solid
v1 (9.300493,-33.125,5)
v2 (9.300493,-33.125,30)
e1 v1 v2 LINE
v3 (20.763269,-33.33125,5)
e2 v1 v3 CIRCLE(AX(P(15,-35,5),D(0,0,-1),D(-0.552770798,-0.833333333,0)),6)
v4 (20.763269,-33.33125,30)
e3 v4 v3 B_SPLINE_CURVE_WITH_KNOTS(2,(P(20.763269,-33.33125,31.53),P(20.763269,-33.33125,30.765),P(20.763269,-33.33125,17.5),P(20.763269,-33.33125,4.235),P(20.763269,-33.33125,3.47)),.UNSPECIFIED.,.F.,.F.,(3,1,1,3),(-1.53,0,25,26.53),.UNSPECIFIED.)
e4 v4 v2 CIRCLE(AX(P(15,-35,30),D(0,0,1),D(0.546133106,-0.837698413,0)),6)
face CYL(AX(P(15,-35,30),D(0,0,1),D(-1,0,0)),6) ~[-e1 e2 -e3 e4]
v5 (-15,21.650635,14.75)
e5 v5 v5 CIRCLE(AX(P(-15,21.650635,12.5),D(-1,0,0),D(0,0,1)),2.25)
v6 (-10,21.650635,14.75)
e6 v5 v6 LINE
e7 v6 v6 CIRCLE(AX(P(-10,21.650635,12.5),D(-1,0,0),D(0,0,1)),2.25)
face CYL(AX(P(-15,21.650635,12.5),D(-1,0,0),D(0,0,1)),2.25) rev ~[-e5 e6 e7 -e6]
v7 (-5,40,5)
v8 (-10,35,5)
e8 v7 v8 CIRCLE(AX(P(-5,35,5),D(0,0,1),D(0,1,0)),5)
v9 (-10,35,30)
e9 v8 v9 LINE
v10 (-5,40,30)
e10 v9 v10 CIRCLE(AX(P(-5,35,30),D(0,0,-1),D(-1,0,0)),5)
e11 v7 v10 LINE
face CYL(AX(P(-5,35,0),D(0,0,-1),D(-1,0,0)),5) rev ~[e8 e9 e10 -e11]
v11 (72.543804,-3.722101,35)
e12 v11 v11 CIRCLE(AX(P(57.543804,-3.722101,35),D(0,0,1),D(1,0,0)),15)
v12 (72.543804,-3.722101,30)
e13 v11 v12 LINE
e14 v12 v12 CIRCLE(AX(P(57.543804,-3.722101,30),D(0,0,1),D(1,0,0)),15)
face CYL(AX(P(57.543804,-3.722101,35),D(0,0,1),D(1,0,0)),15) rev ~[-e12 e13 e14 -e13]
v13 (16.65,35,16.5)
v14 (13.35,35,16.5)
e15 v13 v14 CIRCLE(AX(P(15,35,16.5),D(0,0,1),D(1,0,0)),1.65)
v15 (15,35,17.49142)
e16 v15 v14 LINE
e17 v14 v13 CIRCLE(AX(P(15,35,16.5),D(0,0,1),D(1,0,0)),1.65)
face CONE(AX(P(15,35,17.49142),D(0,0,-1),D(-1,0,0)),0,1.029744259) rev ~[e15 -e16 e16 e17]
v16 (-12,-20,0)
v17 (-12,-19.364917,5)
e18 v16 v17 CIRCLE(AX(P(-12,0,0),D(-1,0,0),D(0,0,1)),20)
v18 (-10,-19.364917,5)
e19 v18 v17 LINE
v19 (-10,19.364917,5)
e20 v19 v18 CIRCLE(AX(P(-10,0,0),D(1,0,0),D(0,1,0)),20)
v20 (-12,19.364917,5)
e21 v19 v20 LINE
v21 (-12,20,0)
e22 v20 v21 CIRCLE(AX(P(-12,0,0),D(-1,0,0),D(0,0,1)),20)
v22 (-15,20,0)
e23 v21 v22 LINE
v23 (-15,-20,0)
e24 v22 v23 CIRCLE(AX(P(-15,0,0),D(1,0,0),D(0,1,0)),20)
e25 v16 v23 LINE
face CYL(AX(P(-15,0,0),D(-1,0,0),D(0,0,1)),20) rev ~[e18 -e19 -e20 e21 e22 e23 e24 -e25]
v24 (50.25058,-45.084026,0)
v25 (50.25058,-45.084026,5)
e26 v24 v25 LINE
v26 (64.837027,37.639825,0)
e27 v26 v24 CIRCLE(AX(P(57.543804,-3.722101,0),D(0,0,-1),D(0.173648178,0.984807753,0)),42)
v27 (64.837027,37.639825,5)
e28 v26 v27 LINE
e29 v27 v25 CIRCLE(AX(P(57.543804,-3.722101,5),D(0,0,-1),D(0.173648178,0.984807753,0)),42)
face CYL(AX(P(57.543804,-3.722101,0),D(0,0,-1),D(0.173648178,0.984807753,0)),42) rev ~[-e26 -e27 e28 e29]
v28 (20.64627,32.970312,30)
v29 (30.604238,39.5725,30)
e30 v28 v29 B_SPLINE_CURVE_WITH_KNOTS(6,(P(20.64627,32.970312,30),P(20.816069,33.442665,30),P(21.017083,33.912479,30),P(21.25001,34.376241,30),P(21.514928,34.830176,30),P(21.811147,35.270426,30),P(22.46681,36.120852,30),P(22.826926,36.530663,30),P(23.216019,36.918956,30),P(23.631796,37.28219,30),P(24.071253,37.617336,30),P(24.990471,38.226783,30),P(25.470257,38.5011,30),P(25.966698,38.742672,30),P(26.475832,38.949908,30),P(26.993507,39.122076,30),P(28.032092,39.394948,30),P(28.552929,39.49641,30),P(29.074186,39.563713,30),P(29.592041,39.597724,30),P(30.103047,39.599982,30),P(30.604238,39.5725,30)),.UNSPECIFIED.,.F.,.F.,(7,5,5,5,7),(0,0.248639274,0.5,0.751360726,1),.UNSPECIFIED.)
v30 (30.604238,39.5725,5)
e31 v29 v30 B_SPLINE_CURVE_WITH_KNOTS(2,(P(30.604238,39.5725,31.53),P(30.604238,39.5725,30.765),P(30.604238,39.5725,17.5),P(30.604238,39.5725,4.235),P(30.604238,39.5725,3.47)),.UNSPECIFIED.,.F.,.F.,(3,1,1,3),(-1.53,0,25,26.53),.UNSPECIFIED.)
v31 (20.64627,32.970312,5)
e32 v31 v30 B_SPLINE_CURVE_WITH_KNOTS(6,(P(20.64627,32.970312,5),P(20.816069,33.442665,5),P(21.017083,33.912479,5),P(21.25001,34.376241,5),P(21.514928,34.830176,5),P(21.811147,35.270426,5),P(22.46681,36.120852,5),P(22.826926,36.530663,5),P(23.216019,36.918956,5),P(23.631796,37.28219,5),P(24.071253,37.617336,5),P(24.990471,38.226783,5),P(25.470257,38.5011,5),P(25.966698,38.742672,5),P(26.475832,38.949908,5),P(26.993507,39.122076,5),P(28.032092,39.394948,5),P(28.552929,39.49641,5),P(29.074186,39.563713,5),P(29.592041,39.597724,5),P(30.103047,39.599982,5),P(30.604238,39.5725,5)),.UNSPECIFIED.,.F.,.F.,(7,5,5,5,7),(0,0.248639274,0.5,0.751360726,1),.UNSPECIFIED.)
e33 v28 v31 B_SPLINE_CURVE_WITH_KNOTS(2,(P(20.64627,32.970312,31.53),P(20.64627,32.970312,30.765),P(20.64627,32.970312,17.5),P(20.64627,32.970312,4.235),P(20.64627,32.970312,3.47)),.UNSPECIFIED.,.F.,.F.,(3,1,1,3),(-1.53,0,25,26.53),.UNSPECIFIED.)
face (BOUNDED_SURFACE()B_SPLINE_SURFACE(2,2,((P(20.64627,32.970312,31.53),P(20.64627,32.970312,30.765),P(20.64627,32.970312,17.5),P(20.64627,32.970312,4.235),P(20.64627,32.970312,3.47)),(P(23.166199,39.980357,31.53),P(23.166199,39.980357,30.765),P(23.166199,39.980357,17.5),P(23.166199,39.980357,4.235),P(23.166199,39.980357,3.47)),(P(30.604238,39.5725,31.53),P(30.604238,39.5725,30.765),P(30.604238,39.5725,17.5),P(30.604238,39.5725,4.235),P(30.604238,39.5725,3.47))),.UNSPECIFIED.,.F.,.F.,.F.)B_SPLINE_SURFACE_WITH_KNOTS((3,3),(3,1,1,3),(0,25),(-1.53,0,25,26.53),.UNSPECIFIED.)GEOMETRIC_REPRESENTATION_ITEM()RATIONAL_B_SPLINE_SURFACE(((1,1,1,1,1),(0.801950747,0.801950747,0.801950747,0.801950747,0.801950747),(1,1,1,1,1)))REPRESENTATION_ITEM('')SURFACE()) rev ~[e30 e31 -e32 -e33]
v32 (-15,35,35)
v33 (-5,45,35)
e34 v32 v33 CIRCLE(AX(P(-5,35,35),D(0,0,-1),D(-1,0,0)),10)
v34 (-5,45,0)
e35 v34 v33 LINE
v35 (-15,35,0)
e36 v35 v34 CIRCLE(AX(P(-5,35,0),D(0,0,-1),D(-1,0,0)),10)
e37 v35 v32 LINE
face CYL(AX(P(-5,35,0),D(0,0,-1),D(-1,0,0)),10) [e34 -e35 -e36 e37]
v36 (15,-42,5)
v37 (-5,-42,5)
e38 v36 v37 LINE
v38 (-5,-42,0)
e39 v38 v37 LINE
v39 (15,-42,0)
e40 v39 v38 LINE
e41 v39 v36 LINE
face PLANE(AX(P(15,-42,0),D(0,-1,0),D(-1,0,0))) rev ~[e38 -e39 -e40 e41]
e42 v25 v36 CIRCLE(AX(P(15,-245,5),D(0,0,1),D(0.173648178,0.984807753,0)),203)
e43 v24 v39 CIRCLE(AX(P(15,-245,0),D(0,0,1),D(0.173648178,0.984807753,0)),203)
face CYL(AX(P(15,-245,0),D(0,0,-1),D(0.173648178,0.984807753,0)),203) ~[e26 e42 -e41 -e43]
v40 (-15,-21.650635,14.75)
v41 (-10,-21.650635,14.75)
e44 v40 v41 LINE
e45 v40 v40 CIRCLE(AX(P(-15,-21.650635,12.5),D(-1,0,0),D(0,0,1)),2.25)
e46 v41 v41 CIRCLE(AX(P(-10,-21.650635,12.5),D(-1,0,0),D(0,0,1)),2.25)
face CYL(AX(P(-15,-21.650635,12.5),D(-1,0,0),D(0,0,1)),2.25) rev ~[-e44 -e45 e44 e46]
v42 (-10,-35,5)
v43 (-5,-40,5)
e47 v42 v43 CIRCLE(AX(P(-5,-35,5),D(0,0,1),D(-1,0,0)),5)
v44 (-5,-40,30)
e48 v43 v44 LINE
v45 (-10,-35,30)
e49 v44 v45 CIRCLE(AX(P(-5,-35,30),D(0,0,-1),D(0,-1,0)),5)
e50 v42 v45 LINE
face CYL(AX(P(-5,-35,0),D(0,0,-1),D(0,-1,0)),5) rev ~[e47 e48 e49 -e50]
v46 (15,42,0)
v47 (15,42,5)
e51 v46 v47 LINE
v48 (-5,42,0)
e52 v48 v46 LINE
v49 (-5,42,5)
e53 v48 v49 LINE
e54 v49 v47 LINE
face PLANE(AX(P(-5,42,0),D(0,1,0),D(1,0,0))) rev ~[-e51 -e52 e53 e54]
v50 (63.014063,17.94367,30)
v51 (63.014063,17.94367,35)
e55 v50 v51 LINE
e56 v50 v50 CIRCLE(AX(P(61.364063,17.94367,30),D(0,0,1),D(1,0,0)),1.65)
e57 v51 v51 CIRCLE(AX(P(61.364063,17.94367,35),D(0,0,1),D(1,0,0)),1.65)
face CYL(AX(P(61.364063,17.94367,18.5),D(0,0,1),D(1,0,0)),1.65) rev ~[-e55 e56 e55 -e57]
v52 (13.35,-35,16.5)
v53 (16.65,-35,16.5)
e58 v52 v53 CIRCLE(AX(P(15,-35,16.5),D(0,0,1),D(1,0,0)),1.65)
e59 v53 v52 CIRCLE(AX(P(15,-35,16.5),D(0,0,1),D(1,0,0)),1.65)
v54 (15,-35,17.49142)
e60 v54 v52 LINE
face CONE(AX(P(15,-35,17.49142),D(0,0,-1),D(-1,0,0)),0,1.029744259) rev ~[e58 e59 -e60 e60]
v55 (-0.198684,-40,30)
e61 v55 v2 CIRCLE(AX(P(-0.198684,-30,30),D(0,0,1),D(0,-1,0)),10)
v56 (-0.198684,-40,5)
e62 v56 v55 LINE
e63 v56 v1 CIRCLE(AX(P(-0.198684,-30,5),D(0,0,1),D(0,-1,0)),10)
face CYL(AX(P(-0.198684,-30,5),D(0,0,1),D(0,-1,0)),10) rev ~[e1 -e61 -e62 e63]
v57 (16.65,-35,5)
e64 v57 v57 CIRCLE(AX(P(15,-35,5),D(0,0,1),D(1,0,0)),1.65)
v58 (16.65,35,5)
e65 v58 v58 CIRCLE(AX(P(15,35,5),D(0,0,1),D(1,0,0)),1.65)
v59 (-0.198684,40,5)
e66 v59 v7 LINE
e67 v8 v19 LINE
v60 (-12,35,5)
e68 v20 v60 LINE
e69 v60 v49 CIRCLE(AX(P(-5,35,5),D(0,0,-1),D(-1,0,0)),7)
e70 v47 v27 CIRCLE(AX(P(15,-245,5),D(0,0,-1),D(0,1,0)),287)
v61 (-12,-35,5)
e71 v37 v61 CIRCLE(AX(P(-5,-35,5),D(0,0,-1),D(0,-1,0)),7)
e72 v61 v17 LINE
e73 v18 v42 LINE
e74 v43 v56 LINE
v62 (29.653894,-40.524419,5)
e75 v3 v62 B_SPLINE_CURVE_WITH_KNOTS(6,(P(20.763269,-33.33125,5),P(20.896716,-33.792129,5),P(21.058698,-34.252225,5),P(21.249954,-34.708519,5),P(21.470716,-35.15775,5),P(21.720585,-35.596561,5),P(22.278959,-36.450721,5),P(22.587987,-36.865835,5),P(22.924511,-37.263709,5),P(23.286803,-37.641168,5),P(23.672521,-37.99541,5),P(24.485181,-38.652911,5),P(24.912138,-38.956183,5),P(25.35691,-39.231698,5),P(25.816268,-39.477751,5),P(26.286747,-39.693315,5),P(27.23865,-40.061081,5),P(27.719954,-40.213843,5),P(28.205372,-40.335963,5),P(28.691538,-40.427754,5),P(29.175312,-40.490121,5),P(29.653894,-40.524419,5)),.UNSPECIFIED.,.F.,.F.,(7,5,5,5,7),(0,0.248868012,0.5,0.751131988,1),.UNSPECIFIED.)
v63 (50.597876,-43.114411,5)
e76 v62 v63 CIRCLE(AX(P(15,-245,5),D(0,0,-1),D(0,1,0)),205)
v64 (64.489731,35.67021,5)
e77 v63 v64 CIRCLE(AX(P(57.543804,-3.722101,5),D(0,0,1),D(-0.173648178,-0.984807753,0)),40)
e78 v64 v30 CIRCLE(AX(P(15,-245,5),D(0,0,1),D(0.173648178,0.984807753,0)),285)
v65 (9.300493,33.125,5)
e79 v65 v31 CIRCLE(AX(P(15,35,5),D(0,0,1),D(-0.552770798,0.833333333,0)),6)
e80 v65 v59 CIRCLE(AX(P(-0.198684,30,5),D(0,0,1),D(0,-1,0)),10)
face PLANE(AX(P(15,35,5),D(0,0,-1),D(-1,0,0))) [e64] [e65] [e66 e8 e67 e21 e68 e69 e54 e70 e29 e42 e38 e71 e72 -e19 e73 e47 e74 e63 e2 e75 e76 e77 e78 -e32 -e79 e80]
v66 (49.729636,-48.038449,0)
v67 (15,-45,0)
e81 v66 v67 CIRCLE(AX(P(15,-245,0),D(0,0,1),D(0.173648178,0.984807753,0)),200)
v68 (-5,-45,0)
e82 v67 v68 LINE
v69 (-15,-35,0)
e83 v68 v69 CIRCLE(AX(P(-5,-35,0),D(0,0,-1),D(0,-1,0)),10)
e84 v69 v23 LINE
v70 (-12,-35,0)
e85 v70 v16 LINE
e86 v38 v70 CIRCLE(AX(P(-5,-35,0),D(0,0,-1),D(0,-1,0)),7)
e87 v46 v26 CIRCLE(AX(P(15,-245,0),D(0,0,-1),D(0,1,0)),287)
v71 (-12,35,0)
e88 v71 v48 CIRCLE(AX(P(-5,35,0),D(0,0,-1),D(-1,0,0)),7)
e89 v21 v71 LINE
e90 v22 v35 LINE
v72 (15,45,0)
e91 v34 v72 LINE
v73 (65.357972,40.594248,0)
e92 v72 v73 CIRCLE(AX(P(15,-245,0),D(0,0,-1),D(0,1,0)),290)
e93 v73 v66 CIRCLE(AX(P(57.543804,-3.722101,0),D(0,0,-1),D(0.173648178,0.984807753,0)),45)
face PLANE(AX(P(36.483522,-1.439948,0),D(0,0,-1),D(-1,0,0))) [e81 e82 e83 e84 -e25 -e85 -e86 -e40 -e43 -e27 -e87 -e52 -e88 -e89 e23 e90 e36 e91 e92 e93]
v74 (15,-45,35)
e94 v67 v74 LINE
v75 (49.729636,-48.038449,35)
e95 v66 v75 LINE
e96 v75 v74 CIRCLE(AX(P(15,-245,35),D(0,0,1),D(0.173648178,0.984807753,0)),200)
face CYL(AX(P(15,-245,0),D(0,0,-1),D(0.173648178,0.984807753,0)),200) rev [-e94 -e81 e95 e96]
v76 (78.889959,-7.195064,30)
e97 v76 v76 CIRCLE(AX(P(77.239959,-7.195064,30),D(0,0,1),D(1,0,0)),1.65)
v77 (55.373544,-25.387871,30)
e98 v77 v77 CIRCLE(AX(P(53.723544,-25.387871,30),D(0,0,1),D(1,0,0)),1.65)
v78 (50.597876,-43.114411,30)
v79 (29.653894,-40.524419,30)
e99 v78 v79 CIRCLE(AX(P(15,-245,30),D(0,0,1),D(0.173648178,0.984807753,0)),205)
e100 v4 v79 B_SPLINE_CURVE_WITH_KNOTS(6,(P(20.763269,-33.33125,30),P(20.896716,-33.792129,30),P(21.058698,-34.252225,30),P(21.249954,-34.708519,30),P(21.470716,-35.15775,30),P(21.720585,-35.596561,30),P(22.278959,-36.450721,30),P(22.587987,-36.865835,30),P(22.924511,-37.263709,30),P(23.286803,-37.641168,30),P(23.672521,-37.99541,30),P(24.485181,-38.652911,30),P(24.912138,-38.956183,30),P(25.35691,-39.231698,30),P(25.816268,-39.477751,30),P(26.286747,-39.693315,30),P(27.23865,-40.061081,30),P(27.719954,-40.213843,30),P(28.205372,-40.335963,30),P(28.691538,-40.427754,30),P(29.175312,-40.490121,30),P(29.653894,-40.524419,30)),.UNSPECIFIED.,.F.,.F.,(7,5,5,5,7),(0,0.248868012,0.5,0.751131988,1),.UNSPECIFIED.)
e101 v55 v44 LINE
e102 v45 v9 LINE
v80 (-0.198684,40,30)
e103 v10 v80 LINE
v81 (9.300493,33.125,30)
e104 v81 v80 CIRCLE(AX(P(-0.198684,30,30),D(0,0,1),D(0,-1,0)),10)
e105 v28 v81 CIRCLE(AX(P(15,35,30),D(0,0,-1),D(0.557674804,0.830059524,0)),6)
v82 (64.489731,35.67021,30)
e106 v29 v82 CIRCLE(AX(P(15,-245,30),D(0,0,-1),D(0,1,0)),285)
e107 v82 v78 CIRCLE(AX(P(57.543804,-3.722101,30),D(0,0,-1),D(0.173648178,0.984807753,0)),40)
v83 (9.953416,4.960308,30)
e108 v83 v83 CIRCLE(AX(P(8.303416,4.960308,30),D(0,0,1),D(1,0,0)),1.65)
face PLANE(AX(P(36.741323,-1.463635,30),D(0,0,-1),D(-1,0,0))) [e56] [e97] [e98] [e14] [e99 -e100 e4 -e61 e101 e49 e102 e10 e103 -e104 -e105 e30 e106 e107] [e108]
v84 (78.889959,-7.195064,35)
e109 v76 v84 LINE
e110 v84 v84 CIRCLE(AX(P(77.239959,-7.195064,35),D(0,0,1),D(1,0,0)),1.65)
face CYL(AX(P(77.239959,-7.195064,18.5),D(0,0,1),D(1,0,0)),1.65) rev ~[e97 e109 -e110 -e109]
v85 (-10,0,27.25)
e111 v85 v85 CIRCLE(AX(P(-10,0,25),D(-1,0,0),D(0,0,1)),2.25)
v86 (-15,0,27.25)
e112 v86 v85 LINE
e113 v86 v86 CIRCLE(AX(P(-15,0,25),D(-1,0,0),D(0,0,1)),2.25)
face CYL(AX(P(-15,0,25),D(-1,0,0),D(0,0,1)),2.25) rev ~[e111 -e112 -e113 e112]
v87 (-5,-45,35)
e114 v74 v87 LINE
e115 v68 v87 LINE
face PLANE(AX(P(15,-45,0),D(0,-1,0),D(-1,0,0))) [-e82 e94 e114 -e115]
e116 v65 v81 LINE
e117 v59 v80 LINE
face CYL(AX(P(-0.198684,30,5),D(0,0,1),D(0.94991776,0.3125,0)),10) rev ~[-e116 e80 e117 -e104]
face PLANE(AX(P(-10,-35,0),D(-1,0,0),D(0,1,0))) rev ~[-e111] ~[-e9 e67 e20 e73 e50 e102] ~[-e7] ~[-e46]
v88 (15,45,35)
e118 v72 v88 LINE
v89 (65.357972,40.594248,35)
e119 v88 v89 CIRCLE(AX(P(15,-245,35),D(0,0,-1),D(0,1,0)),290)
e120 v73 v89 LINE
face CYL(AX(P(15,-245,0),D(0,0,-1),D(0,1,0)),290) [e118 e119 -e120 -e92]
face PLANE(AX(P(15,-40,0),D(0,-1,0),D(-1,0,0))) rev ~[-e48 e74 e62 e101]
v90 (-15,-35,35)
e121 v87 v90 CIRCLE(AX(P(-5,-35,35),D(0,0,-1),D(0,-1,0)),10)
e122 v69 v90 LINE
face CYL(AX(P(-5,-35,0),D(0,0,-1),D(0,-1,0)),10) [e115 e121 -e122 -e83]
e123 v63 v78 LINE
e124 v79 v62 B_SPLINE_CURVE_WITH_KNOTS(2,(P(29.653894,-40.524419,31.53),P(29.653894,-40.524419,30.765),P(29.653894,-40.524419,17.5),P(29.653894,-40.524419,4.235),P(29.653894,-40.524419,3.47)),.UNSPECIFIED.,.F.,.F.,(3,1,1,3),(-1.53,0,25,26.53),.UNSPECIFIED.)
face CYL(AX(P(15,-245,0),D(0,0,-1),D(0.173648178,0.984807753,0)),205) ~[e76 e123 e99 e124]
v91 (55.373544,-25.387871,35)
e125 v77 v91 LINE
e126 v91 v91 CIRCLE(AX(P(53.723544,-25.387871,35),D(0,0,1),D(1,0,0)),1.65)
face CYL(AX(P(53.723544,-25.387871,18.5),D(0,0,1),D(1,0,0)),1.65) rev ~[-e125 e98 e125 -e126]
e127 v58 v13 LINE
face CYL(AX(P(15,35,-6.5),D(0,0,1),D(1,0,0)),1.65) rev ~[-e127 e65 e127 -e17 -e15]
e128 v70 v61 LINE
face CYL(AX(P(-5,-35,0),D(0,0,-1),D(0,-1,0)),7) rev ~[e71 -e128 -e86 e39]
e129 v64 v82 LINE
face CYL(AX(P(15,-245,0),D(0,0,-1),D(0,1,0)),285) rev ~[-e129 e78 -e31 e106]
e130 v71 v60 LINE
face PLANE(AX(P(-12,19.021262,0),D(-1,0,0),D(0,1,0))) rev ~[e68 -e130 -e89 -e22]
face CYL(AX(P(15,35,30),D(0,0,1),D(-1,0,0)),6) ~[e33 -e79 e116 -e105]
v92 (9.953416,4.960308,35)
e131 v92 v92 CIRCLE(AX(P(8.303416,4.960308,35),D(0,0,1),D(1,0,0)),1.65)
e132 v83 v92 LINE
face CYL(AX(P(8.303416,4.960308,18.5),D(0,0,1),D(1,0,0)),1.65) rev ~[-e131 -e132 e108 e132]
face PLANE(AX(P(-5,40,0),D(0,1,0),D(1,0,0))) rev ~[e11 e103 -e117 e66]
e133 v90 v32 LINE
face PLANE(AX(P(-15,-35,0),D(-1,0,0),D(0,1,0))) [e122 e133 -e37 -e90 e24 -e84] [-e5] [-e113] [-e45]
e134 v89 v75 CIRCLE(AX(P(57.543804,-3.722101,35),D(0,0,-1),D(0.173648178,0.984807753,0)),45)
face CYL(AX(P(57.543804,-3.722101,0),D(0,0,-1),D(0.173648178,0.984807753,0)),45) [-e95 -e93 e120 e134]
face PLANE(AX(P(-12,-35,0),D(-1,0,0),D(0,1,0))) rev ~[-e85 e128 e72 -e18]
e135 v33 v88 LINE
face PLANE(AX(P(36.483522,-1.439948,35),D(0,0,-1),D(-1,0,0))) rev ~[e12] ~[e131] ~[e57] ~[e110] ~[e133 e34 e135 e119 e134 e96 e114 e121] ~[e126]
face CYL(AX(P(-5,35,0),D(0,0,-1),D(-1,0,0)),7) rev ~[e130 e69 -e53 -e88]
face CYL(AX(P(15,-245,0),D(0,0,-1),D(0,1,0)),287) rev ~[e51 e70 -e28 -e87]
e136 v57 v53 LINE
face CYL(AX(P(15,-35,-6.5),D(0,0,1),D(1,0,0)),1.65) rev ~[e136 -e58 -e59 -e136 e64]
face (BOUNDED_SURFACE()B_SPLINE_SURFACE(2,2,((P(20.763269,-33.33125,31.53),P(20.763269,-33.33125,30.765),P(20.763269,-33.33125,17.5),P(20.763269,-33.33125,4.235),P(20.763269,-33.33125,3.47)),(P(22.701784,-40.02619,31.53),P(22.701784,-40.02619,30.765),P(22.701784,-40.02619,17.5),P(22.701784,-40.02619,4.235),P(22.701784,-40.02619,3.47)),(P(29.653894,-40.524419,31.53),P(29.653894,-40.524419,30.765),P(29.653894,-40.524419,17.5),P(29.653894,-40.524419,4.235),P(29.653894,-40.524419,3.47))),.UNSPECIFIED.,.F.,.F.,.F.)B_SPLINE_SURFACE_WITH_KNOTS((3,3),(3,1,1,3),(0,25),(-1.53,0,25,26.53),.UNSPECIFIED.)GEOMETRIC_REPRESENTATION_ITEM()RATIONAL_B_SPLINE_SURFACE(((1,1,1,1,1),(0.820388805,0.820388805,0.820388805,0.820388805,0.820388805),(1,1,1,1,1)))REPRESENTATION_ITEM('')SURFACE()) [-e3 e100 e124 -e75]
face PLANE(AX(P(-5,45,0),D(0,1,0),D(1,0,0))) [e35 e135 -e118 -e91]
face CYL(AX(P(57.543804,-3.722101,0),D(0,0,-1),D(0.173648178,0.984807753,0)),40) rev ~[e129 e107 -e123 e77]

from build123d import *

# Parameters (mm, degrees)
EXTRUDE_1_DEPTH        = 35
CUT_EXTRUDE_1_DEPTH    = 30
SKETCH_3_R             = 20
SKETCH_3_R_2           = 2.25
CUT_EXTRUDE_2_DEPTH    = 5
CUT_EXTRUDE_3_REACH    = 37
SKETCH_4_R             = 15
CUT_EXTRUDE_5_DEPTH    = 5
SKETCH_8_R             = 6
EXTRUDE_2_DEPTH        = 25
FILLET_1_R             = 10
HOLE_WIZARD_M4_2_D     = 3.3
HOLE_WIZARD_M4_2_DEPTH = 11.5
HOLE_WIZARD_M4_2_TIP   = 0.991420021
HOLE_WIZARD_M4_3_D     = 3.3
HOLE_WIZARD_M4_3_DEPTH = 11.5
HOLE_WIZARD_M4_3_TIP   = 0.991420021


with BuildPart() as part:
    # 스케치1 → 보스-돌출1 (new body)
    with BuildSketch(Plane.XY):
        with BuildLine():
            Line((-5, 45), (15, 45))
            ThreePointArc((15, 45), (40.275165397, 43.896462447), (65.357971523, 40.594248374))
            ThreePointArc((65.357971523, 40.594248374), (101.860152414, -11.536268507), (49.729635533, -48.038449398))
            ThreePointArc((49.729635533, -48.038449398), (32.43114855, -45.761060382), (15, -45))
            Line((15, -45), (-5, -45))
            ThreePointArc((-5, -45), (-12.071067812, -42.071067812), (-15, -35))
            Line((-15, -35), (-15, 35))
            ThreePointArc((-15, 35), (-12.071067812, 42.071067812), (-5, 45))
        make_face()
    extrude(amount=EXTRUDE_1_DEPTH)

    # 스케치2 → 컷-돌출1 (cut)
    with BuildSketch(Plane(origin=(0, 0, 0), x_dir=(-1, 0, 0), z_dir=(0, 0, -1))):
        with BuildLine():
            Line((-15, -40), (5, -40))
            ThreePointArc((5, -40), (8.535533906, -38.535533906), (10, -35))
            Line((10, -35), (10, 35))
            ThreePointArc((10, 35), (8.535533906, 38.535533906), (5, 40))
            Line((5, 40), (-15, 40))
            ThreePointArc((-15, 40), (-39.839386683, 38.915488956), (-64.489730635, 35.670209608))
            ThreePointArc((-64.489730635, 35.670209608), (-96.936113649, -10.668027619), (-50.597876422, -43.114410632))
            ThreePointArc((-50.597876422, -43.114410632), (-32.866927263, -40.780086891), (-15, -40))
        make_face()
    extrude(amount=-CUT_EXTRUDE_1_DEPTH, mode=Mode.SUBTRACT)

    # 스케치3 → 컷-돌출2 (cut)
    with BuildSketch(Plane.ZY.offset(15)):
        Circle(SKETCH_3_R)
        with Locations((12.5, 21.650635095)):
            Circle(SKETCH_3_R_2)
        with Locations((25, 0)):
            Circle(SKETCH_3_R_2)
        with Locations((12.5, -21.650635095)):
            Circle(SKETCH_3_R_2)
    extrude(amount=-CUT_EXTRUDE_2_DEPTH, mode=Mode.SUBTRACT)

    # 스케치4 → 컷-돌출3 (cut, up to next)
    with BuildSketch(Plane.XY.offset(35), mode=Mode.PRIVATE) as cut_extrude_3_sk1:
        with Locations((57.543803528, -3.722100512)):
            Circle(SKETCH_4_R)
    cut_extrude_3_tool1 = extrude(cut_extrude_3_sk1.sketch, amount=-CUT_EXTRUDE_3_REACH, mode=Mode.PRIVATE) & part.part
    add(cut_extrude_3_tool1.solids().sort_by_distance((57.543804, -3.722101, 35))[0], mode=Mode.SUBTRACT)

    # 스케치6 → 컷-돌출5 (cut)
    with BuildSketch(Plane(origin=(0, 0, 0), x_dir=(-1, 0, 0), z_dir=(0, 0, -1))):
        with BuildLine():
            Line((10, 21.02711573), (10, 19.021261947))
            Line((10, 19.021261947), (12, 19.021261947))
            Line((12, 19.021261947), (12, 21.02711573))
            Line((12, 21.02711573), (12, 35))
            ThreePointArc((12, 35), (9.949747468, 39.949747468), (5, 42))
            Line((5, 42), (-15, 42))
            ThreePointArc((-15, 42), (-40.013698169, 40.907878352), (-64.83702699, 37.639825115))
            ThreePointArc((-64.83702699, 37.639825115), (-98.905729155, -11.015323974), (-50.250580066, -45.084026139))
            ThreePointArc((-50.250580066, -45.084026139), (-32.692615778, -42.772476287), (-15, -42))
            Line((-15, -42), (5, -42))
            ThreePointArc((5, -42), (9.949747468, -39.949747468), (12, -35))
            Line((12, -35), (12, -19.081512787))
            Line((12, -19.081512787), (10, -19.081512787))
            Line((10, -19.081512787), (10, -35))
            ThreePointArc((10, -35), (8.535533906, -38.535533906), (5, -40))
            Line((5, -40), (-15, -40))
            ThreePointArc((-15, -40), (-32.866927263, -40.780086891), (-50.597876422, -43.114410632))
            ThreePointArc((-50.597876422, -43.114410632), (-96.936113649, -10.668027619), (-64.489730635, 35.670209608))
            ThreePointArc((-64.489730635, 35.670209608), (-39.839386683, 38.915488956), (-15, 40))
            Line((-15, 40), (5, 40))
            ThreePointArc((5, 40), (8.535533906, 38.535533906), (10, 35))
            Line((10, 35), (10, 21.02711573))
        make_face()
    extrude(amount=-CUT_EXTRUDE_5_DEPTH, mode=Mode.SUBTRACT)

    # 스케치8 → 보스-돌출2 (add)
    with BuildSketch(Plane(origin=(0, 0, 30), x_dir=(-1, 0, 0), z_dir=(0, 0, -1))):
        with Locations((-15, 35)):
            Circle(SKETCH_8_R)
        with Locations((-15, -35)):
            Circle(SKETCH_8_R)
    extrude(amount=EXTRUDE_2_DEPTH)

    # 필렛1
    fillet_1_edges = [part.edges().sort_by_distance(p)[0] for p in [
        (18.346048824, 39.980357143, 17.5),
        (11.68337521, 40, 17.5),
        (18.276798635, -40.026190476, 17.5),
        (11.68337521, -40, 17.5),
    ]]
    fillet(fillet_1_edges, radius=FILLET_1_R)

    # M4 나사 구멍2
    with Locations(Plane(origin=(0, 0, 30), x_dir=(-1, 0, 0), z_dir=(0, 0, -1))):
        with Locations((-61.364063437, 17.943670054), (-77.239958589, -7.195064065), (-53.72354362, -25.387871078), (-8.303415878, 4.960308371)):
            Hole(HOLE_WIZARD_M4_2_D / 2, depth=HOLE_WIZARD_M4_2_DEPTH)
            with Locations((0, 0, -(HOLE_WIZARD_M4_2_DEPTH + HOLE_WIZARD_M4_2_TIP / 2))):  # 118° drill point
                Cone(0, HOLE_WIZARD_M4_2_D / 2, HOLE_WIZARD_M4_2_TIP, mode=Mode.SUBTRACT)

    # M4 나사 구멍3
    with Locations(Plane(origin=(0, 0, 5), x_dir=(-1, 0, 0), z_dir=(0, 0, -1))):
        with Locations((-15, 35), (-15, -35)):
            Hole(HOLE_WIZARD_M4_3_D / 2, depth=HOLE_WIZARD_M4_3_DEPTH)
            with Locations((0, 0, -(HOLE_WIZARD_M4_3_DEPTH + HOLE_WIZARD_M4_3_TIP / 2))):  # 118° drill point
                Cone(0, HOLE_WIZARD_M4_3_D / 2, HOLE_WIZARD_M4_3_TIP, mode=Mode.SUBTRACT)


solid = part.part
